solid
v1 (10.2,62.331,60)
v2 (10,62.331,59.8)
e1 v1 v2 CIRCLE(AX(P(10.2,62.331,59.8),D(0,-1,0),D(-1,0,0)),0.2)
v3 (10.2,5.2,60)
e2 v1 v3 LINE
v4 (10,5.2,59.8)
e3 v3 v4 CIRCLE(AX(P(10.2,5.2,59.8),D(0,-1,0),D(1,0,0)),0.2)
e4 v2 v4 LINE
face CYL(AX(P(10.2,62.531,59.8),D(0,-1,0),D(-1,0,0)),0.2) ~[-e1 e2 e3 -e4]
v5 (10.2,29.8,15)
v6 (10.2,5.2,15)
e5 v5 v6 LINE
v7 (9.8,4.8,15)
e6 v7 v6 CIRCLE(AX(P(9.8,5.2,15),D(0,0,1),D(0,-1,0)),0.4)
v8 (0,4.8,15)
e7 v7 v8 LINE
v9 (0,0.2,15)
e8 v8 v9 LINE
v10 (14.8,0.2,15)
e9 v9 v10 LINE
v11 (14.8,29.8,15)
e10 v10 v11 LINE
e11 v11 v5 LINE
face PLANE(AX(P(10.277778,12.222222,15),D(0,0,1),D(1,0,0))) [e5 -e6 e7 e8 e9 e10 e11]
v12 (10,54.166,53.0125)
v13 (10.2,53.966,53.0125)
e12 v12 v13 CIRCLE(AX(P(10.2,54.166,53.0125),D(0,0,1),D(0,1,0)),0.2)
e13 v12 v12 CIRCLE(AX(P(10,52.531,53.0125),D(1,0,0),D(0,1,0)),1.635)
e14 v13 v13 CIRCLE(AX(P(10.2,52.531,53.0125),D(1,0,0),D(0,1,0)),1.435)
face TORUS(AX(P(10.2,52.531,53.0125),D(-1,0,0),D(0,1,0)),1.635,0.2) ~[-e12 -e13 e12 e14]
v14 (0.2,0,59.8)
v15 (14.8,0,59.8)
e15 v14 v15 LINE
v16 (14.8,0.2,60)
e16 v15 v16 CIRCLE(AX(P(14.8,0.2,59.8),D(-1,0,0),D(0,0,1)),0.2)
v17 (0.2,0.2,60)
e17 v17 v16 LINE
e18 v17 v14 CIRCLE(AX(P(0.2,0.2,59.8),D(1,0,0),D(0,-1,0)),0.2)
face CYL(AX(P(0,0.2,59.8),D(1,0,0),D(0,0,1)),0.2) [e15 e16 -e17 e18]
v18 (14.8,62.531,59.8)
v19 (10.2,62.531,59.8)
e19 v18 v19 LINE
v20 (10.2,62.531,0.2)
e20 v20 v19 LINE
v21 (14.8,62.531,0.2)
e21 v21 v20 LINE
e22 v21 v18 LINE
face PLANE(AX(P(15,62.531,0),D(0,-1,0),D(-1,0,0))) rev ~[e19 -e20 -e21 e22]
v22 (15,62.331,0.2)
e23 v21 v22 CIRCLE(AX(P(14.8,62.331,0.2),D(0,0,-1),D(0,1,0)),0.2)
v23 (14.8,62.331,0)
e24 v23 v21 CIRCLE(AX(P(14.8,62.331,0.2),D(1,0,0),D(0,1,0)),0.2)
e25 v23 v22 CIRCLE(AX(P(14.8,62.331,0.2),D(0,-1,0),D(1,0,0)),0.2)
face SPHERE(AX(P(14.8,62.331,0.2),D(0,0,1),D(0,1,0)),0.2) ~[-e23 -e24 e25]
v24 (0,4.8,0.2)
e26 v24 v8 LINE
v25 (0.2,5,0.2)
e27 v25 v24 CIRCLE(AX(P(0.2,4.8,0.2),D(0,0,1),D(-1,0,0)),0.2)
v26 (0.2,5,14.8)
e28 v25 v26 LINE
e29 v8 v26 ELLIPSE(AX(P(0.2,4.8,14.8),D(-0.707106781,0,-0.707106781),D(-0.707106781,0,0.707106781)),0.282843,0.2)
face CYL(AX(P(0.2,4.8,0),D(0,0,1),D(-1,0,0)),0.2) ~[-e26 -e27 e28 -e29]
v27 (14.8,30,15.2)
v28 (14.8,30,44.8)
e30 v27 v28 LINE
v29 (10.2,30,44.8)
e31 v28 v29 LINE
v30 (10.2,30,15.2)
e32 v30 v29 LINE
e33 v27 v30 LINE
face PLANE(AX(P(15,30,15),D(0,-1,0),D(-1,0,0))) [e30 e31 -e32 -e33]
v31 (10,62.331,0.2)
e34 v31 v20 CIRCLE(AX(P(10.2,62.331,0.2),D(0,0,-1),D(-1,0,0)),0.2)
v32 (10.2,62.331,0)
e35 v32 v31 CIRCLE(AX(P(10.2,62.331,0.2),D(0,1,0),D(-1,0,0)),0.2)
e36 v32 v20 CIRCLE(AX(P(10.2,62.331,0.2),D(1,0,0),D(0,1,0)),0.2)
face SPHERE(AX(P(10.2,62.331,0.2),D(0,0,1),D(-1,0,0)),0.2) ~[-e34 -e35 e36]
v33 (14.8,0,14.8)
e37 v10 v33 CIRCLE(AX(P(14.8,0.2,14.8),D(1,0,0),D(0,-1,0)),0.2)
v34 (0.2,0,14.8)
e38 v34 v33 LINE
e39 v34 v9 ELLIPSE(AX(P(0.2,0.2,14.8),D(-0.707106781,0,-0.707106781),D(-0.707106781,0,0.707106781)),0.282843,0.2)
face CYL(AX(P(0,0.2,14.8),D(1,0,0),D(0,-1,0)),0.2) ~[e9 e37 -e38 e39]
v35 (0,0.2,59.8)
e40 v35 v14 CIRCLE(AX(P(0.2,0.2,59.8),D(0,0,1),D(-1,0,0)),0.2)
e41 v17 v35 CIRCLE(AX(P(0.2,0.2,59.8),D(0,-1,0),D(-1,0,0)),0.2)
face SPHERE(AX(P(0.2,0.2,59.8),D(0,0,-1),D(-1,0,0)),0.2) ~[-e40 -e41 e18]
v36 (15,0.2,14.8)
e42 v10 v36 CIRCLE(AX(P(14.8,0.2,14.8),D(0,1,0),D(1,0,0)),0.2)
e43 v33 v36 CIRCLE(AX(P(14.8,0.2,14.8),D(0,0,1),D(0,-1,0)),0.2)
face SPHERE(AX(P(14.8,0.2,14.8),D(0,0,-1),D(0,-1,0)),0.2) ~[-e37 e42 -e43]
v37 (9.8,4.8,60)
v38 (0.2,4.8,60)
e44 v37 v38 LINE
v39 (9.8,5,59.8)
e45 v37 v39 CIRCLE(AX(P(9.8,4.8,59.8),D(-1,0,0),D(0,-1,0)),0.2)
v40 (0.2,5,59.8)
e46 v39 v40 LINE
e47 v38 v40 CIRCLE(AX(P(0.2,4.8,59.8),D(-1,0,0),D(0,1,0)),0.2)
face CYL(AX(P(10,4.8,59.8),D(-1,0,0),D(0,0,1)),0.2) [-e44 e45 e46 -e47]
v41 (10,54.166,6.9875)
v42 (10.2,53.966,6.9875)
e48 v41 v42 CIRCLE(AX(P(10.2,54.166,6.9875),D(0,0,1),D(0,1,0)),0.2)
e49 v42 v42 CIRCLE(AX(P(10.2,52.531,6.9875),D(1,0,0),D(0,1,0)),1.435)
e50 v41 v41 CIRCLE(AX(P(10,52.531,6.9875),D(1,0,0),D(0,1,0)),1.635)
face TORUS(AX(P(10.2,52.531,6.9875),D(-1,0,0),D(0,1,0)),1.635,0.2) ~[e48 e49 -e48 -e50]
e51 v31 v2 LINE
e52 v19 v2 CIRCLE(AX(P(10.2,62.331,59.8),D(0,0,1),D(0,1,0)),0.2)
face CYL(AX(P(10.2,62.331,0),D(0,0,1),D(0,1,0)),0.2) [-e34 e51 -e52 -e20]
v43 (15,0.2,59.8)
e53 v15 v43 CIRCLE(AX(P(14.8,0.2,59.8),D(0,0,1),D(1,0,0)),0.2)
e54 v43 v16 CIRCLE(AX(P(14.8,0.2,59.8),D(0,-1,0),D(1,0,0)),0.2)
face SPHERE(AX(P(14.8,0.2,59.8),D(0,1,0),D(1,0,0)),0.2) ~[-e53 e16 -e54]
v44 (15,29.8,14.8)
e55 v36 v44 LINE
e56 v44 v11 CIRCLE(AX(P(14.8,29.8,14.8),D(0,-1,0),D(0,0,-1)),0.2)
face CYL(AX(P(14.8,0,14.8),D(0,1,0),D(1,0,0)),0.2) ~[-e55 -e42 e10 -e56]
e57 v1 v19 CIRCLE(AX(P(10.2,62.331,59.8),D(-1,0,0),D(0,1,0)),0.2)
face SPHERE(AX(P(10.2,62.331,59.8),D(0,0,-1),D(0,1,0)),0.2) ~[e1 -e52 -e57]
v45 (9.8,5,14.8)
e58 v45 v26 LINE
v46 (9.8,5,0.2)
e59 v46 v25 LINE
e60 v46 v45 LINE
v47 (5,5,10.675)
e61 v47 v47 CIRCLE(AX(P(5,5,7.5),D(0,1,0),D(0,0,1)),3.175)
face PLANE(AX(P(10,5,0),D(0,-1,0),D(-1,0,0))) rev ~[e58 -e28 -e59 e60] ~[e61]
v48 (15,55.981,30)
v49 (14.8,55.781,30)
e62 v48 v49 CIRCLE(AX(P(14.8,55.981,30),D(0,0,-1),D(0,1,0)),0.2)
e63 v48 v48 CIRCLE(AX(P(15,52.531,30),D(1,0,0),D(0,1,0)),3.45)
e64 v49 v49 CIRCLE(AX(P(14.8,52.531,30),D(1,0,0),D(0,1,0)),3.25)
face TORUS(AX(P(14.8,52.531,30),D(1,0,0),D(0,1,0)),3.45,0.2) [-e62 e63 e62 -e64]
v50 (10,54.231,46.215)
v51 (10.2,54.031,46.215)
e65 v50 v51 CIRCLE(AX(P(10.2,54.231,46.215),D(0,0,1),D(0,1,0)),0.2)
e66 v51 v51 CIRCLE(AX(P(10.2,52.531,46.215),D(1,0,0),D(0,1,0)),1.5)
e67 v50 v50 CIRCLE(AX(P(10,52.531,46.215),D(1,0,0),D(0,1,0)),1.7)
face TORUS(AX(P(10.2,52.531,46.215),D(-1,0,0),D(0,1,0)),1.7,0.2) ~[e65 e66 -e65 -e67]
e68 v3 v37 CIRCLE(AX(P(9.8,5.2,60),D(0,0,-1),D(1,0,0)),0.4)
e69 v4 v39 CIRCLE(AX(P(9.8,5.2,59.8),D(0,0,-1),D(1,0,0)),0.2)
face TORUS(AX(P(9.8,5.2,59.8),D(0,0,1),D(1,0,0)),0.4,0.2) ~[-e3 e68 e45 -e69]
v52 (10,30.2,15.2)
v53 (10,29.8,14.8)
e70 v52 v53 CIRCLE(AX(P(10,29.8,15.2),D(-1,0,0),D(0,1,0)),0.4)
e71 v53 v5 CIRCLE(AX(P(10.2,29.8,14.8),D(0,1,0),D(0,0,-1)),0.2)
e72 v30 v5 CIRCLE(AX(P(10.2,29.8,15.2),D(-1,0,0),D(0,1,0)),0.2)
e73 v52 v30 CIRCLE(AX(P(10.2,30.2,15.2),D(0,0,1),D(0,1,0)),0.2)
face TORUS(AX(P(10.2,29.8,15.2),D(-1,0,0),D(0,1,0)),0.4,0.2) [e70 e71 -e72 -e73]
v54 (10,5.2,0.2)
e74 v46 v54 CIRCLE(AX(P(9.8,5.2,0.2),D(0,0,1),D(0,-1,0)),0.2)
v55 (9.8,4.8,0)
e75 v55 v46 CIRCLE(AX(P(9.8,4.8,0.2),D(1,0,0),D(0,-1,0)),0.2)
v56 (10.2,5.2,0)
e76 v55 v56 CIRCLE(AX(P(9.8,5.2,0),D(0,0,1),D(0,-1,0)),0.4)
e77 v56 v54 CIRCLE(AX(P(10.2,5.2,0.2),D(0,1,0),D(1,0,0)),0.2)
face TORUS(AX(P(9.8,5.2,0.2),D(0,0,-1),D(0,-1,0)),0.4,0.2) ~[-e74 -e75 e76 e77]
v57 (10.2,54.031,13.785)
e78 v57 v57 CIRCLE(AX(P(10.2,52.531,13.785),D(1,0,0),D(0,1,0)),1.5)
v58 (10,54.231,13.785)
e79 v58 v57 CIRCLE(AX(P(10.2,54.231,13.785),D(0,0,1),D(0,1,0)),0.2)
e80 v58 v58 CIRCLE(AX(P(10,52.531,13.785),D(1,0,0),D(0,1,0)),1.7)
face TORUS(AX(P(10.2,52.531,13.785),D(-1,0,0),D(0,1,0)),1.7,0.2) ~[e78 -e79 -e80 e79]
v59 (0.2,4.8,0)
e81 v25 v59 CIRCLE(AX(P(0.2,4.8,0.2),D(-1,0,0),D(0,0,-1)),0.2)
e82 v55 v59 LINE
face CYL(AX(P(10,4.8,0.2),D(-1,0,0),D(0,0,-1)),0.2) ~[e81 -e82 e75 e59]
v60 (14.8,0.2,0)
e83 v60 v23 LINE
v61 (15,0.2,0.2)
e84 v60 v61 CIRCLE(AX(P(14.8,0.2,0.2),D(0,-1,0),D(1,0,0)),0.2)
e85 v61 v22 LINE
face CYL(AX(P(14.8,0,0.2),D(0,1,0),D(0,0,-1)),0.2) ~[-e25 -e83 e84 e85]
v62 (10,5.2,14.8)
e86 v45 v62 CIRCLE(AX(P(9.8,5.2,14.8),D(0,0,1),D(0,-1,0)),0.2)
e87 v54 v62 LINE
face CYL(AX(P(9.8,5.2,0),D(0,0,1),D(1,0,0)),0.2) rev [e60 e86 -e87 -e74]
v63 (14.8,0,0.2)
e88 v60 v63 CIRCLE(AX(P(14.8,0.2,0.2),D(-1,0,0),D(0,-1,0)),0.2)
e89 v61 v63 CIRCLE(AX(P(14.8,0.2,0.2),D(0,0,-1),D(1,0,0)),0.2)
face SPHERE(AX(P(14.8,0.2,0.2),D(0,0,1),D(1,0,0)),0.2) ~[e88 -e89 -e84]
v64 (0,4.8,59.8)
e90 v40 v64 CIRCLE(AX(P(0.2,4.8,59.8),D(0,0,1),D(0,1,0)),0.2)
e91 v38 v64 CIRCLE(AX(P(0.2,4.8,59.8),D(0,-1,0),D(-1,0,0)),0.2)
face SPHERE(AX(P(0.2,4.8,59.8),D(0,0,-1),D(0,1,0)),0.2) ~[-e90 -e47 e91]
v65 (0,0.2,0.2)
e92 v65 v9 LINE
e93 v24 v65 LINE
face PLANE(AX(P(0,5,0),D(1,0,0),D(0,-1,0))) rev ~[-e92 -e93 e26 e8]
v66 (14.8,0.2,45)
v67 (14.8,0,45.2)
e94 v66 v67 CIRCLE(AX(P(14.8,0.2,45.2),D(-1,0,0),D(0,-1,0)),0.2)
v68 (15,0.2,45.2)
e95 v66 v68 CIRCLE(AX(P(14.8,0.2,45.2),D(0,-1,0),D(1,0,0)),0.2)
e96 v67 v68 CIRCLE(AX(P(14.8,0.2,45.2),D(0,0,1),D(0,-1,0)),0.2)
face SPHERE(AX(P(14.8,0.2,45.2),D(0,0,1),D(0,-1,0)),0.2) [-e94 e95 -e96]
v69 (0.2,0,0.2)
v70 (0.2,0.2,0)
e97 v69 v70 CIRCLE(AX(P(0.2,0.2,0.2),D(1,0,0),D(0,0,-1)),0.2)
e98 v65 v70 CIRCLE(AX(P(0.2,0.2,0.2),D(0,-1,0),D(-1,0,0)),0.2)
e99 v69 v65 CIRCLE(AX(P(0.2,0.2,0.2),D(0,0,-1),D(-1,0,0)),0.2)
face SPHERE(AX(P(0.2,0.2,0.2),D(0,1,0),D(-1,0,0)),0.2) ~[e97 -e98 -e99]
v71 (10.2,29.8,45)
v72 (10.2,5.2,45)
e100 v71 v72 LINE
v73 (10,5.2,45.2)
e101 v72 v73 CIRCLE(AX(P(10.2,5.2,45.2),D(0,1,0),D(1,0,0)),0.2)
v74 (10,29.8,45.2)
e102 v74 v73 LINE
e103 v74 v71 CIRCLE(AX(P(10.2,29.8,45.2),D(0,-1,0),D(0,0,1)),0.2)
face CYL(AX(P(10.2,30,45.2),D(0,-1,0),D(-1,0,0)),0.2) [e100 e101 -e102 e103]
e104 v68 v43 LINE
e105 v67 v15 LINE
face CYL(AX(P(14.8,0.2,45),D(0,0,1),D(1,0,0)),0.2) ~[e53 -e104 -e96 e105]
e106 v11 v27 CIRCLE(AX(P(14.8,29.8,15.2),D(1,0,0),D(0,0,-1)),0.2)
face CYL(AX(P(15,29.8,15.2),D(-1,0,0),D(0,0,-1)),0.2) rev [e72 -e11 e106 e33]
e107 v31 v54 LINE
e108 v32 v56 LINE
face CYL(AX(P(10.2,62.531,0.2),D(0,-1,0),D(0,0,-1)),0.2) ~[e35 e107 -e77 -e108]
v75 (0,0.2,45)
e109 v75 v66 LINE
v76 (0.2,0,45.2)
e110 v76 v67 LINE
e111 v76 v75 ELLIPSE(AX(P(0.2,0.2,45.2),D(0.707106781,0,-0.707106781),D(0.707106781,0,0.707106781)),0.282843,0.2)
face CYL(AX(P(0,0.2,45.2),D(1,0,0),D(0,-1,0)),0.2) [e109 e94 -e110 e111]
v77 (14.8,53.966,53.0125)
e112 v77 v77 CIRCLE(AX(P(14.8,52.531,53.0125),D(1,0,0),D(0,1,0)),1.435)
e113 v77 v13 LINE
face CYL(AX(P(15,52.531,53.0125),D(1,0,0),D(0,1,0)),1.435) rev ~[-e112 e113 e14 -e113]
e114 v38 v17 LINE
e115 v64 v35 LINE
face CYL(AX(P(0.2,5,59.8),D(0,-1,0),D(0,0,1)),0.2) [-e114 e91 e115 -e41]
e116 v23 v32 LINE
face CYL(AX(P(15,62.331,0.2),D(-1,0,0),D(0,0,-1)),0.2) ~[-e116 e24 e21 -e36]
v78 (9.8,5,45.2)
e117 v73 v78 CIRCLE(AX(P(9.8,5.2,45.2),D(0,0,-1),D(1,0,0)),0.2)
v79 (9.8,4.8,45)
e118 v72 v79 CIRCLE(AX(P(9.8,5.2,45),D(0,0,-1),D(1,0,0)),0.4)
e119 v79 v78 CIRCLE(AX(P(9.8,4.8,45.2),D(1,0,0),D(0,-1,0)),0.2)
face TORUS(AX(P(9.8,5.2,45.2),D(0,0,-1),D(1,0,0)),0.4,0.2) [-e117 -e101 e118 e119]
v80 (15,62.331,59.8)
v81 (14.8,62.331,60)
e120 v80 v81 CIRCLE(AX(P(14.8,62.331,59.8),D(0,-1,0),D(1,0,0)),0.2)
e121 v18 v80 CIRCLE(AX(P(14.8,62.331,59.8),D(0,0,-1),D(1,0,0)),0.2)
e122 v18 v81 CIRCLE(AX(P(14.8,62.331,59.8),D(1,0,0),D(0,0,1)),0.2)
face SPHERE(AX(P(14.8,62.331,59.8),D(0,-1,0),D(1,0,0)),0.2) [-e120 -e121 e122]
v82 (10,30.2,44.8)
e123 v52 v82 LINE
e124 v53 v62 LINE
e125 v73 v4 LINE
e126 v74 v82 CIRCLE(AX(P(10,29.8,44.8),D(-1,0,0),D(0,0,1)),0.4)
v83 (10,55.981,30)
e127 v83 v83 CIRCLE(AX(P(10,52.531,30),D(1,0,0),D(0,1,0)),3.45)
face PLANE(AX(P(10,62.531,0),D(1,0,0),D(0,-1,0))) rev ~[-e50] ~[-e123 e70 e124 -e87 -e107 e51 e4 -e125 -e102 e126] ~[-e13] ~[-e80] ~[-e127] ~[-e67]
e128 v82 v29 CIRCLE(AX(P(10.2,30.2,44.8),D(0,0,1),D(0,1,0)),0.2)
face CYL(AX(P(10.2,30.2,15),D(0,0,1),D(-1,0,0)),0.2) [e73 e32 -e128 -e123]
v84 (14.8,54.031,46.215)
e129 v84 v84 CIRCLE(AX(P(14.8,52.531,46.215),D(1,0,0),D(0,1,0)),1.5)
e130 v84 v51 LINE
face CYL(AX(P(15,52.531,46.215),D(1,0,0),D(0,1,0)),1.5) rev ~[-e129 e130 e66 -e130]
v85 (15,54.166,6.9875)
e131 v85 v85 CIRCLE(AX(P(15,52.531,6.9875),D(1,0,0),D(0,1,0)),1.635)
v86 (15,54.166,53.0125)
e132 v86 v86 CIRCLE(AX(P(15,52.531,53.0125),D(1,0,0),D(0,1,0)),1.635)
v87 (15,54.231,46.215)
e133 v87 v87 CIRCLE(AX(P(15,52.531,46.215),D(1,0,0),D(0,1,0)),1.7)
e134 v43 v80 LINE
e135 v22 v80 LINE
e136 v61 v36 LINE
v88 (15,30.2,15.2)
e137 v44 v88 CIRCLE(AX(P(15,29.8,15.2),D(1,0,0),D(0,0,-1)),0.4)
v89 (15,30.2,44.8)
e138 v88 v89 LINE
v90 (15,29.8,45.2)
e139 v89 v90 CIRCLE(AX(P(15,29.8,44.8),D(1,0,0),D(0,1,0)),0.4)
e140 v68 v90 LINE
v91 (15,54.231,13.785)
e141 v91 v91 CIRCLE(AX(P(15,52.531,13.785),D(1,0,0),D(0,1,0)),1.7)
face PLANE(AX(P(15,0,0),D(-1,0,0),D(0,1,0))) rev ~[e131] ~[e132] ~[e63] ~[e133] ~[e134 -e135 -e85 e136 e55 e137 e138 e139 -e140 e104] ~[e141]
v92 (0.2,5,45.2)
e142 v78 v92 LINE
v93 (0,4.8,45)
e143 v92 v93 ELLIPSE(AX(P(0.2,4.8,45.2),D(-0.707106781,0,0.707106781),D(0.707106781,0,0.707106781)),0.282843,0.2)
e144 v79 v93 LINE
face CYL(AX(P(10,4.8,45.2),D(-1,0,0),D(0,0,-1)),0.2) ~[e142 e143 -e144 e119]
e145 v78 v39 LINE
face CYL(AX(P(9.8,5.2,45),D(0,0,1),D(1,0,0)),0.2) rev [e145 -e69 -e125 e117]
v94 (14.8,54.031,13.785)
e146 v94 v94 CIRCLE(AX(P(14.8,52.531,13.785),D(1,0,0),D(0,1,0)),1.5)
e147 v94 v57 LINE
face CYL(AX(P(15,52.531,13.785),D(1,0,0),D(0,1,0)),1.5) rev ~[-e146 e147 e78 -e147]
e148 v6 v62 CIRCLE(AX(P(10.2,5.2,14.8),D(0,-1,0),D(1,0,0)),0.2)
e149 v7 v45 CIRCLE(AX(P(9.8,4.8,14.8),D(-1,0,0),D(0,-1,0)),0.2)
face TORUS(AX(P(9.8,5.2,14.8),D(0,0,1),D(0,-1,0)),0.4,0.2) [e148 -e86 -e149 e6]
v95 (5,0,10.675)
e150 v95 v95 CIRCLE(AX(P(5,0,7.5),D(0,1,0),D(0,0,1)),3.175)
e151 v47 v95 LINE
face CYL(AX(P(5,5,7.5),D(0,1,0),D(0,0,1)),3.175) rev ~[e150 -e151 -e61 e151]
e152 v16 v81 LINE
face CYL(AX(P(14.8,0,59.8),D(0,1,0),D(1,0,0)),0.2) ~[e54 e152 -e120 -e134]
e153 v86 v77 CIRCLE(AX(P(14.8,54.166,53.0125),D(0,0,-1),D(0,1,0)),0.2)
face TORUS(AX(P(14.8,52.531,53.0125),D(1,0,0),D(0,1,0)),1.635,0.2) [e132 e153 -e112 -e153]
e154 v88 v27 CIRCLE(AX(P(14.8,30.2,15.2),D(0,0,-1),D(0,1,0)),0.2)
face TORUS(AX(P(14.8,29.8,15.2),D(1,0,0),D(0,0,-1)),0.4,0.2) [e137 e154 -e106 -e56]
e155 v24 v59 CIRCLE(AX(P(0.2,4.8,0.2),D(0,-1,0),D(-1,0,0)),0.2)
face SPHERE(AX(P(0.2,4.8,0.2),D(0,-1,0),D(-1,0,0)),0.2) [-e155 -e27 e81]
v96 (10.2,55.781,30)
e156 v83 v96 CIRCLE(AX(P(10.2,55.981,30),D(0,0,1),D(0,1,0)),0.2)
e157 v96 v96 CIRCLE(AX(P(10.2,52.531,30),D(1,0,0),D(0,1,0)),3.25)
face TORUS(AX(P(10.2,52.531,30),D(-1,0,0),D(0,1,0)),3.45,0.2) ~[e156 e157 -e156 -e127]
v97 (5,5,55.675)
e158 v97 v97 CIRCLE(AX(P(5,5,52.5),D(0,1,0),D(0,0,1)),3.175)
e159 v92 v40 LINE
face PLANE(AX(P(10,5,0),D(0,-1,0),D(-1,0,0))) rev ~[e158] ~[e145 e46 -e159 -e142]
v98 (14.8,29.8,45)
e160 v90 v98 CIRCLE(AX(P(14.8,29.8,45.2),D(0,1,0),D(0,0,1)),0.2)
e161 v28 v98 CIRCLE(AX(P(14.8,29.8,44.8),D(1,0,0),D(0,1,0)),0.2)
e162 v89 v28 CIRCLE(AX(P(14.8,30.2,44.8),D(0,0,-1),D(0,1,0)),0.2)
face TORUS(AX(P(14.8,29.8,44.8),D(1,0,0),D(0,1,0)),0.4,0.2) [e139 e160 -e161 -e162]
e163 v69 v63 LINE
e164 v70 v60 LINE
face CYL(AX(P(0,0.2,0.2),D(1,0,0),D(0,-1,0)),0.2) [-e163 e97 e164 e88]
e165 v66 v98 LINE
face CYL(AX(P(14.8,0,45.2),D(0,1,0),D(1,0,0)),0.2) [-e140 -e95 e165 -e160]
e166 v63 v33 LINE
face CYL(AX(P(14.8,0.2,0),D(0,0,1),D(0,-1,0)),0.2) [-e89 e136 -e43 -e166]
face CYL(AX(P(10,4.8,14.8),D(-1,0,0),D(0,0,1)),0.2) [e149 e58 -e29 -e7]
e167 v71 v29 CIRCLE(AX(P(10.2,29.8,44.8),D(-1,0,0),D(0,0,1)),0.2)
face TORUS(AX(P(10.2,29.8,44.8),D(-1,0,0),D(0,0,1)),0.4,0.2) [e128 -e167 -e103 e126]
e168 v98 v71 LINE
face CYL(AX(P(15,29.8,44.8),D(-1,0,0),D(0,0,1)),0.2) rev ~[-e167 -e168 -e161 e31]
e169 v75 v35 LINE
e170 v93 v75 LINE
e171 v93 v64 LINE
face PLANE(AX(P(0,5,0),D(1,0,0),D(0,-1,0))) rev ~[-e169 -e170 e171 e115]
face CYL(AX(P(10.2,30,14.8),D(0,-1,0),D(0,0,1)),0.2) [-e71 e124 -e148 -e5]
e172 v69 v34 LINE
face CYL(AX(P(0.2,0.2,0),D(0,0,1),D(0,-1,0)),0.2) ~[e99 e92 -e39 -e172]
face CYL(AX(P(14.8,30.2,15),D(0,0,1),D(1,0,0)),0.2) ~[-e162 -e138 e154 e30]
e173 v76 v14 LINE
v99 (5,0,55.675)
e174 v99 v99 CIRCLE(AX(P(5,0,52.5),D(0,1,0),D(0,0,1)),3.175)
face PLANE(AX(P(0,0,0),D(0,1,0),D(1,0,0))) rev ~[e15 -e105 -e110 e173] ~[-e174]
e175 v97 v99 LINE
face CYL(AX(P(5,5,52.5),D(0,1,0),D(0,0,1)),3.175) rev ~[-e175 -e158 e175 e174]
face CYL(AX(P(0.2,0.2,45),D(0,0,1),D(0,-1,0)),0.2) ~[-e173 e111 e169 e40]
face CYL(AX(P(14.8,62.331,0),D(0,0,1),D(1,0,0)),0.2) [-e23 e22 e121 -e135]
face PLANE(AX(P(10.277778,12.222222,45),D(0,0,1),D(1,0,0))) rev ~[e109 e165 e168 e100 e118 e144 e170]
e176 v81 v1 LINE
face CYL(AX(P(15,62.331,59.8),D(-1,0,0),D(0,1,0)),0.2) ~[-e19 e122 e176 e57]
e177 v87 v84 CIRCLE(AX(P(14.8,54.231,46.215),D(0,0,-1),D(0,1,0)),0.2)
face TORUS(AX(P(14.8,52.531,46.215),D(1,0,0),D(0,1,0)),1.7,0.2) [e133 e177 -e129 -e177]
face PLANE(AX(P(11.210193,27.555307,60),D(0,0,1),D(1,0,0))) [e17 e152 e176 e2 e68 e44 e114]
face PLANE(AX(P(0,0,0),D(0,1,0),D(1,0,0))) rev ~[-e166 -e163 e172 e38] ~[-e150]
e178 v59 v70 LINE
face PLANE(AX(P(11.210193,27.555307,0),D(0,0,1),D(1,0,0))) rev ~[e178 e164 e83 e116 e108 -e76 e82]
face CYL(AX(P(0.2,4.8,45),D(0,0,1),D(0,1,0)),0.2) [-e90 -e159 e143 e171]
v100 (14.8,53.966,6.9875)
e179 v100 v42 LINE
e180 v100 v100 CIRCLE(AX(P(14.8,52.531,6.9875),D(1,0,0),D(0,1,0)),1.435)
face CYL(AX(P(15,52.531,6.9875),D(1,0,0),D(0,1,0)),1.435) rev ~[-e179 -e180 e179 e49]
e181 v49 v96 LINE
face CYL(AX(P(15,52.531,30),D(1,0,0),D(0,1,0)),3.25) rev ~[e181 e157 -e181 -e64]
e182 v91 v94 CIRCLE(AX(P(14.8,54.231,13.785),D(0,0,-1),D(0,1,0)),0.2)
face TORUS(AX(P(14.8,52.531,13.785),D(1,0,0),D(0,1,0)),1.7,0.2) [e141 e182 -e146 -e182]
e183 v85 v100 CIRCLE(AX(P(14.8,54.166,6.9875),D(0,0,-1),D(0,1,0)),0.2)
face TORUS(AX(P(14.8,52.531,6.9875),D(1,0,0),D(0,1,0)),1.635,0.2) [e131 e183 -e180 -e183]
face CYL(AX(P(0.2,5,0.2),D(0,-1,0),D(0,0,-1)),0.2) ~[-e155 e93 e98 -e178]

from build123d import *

# Parameters (mm, degrees)
BOSS_EXTRUDE1_DEPTH = 60
SKETCH2_R           = 3.25
SKETCH2_R_2         = 1.435
SKETCH2_R_3         = 1.5
CUT_EXTRUDE1_DEPTH  = 88.949564871
CUT_EXTRUDE2_START  = -15
CUT_EXTRUDE2_DEPTH  = 30
FILLET16_R          = 0.2
SKETCH4_R           = 3.175
CUT_EXTRUDE3_DEPTH  = 85.467839803


with BuildPart() as part:
    # Sketch1 → Boss-Extrude1 (new body)
    with BuildSketch(Plane.XY):
        Polygon((0, 0), (15, 0), (15, 5), (15, 62.531), (10, 62.531), (10, 5), (0, 5), align=None)
    extrude(amount=BOSS_EXTRUDE1_DEPTH)

    # Sketch2 → Cut-Extrude1 (cut, through all)
    with BuildSketch(Plane(origin=(15, 0, 0), x_dir=(0, 0, -1), z_dir=(1, 0, 0))):
        with Locations(Location((-30, 52.531, 0), (0, 0, 90))):
            Circle(SKETCH2_R)
        with Locations(Location((-6.9875, 52.531, 0), (0, 0, 90))):
            Circle(SKETCH2_R_2)
        with Locations(Location((-13.785, 52.531, 0), (0, 0, 90))):
            Circle(SKETCH2_R_3)
        with Locations(Location((-46.215, 52.531, 0), (0, 0, 90))):
            Circle(SKETCH2_R_3)
        with Locations(Location((-53.0125, 52.531, 0), (0, 0, 90))):
            Circle(SKETCH2_R_2)
    extrude(amount=-CUT_EXTRUDE1_DEPTH, mode=Mode.SUBTRACT)

    # Sketch3 → Cut-Extrude2 (cut)
    with BuildSketch(Plane(origin=(0, 0, 0), x_dir=(-1, 0, 0), z_dir=(0, 0, -1)).offset(CUT_EXTRUDE2_START)):
        Polygon((-15, 30), (-10, 30), (-10, 5), (0, 5), (0, 0), (-15, 0), align=None)
    extrude(amount=-CUT_EXTRUDE2_DEPTH, mode=Mode.SUBTRACT)

    # Fillet16
    fillet16_edges = [part.edges().sort_by_distance(p)[0] for p in [
        (0, 2.5, 0),
        (0, 5, 52.5),
        (10, 5, 52.5),
        (10, 62.531, 30),
        (15, 31.2655, 60),
        (15, 62.531, 30),
        (15, 0, 52.5),
        (0, 0, 52.5),
        (12.5, 62.531, 60),
        (10, 33.7655, 60),
        (10, 51.096, 53.0125),
        (5, 5, 60),
        (15, 51.096, 53.0125),
        (10, 51.031, 46.215),
        (15, 51.031, 46.215),
        (10, 51.031, 13.785),
        (15, 51.031, 13.785),
        (10, 51.096, 6.9875),
        (15, 51.096, 6.9875),
        (10, 49.281, 30),
        (15, 49.281, 30),
        (0, 5, 7.5),
        (10, 5, 7.5),
        (0, 2.5, 60),
        (15, 0, 7.5),
        (0, 0, 7.5),
        (7.5, 0, 45),
        (15, 15, 45),
        (12.5, 30, 45),
        (15, 30, 30),
        (10, 17.5, 45),
        (10, 30, 30),
        (5, 5, 45),
        (7.5, 0, 15),
        (5, 5, 15),
        (10, 17.5, 15),
        (12.5, 30, 15),
        (15, 15, 15),
        (5, 5, 0),
        (10, 33.7655, 0),
        (12.5, 62.531, 0),
        (15, 31.2655, 0),
        (7.5, 0, 60),
        (7.5, 0, 0),
    ]]
    fillet(fillet16_edges, radius=FILLET16_R)

    # Sketch4 → Cut-Extrude3 (cut, through all)
    with BuildSketch(Plane(origin=(0, 5, 0), x_dir=(1, 0, 0), z_dir=(0, 1, 0))):
        with Locations(Location((5, -7.5, 0), (0, 0, 270))):
            Circle(SKETCH4_R)
        with Locations(Location((5, -52.5, 0), (0, 0, 270))):
            Circle(SKETCH4_R)
    extrude(amount=-CUT_EXTRUDE3_DEPTH, mode=Mode.SUBTRACT)


solid = part.part
